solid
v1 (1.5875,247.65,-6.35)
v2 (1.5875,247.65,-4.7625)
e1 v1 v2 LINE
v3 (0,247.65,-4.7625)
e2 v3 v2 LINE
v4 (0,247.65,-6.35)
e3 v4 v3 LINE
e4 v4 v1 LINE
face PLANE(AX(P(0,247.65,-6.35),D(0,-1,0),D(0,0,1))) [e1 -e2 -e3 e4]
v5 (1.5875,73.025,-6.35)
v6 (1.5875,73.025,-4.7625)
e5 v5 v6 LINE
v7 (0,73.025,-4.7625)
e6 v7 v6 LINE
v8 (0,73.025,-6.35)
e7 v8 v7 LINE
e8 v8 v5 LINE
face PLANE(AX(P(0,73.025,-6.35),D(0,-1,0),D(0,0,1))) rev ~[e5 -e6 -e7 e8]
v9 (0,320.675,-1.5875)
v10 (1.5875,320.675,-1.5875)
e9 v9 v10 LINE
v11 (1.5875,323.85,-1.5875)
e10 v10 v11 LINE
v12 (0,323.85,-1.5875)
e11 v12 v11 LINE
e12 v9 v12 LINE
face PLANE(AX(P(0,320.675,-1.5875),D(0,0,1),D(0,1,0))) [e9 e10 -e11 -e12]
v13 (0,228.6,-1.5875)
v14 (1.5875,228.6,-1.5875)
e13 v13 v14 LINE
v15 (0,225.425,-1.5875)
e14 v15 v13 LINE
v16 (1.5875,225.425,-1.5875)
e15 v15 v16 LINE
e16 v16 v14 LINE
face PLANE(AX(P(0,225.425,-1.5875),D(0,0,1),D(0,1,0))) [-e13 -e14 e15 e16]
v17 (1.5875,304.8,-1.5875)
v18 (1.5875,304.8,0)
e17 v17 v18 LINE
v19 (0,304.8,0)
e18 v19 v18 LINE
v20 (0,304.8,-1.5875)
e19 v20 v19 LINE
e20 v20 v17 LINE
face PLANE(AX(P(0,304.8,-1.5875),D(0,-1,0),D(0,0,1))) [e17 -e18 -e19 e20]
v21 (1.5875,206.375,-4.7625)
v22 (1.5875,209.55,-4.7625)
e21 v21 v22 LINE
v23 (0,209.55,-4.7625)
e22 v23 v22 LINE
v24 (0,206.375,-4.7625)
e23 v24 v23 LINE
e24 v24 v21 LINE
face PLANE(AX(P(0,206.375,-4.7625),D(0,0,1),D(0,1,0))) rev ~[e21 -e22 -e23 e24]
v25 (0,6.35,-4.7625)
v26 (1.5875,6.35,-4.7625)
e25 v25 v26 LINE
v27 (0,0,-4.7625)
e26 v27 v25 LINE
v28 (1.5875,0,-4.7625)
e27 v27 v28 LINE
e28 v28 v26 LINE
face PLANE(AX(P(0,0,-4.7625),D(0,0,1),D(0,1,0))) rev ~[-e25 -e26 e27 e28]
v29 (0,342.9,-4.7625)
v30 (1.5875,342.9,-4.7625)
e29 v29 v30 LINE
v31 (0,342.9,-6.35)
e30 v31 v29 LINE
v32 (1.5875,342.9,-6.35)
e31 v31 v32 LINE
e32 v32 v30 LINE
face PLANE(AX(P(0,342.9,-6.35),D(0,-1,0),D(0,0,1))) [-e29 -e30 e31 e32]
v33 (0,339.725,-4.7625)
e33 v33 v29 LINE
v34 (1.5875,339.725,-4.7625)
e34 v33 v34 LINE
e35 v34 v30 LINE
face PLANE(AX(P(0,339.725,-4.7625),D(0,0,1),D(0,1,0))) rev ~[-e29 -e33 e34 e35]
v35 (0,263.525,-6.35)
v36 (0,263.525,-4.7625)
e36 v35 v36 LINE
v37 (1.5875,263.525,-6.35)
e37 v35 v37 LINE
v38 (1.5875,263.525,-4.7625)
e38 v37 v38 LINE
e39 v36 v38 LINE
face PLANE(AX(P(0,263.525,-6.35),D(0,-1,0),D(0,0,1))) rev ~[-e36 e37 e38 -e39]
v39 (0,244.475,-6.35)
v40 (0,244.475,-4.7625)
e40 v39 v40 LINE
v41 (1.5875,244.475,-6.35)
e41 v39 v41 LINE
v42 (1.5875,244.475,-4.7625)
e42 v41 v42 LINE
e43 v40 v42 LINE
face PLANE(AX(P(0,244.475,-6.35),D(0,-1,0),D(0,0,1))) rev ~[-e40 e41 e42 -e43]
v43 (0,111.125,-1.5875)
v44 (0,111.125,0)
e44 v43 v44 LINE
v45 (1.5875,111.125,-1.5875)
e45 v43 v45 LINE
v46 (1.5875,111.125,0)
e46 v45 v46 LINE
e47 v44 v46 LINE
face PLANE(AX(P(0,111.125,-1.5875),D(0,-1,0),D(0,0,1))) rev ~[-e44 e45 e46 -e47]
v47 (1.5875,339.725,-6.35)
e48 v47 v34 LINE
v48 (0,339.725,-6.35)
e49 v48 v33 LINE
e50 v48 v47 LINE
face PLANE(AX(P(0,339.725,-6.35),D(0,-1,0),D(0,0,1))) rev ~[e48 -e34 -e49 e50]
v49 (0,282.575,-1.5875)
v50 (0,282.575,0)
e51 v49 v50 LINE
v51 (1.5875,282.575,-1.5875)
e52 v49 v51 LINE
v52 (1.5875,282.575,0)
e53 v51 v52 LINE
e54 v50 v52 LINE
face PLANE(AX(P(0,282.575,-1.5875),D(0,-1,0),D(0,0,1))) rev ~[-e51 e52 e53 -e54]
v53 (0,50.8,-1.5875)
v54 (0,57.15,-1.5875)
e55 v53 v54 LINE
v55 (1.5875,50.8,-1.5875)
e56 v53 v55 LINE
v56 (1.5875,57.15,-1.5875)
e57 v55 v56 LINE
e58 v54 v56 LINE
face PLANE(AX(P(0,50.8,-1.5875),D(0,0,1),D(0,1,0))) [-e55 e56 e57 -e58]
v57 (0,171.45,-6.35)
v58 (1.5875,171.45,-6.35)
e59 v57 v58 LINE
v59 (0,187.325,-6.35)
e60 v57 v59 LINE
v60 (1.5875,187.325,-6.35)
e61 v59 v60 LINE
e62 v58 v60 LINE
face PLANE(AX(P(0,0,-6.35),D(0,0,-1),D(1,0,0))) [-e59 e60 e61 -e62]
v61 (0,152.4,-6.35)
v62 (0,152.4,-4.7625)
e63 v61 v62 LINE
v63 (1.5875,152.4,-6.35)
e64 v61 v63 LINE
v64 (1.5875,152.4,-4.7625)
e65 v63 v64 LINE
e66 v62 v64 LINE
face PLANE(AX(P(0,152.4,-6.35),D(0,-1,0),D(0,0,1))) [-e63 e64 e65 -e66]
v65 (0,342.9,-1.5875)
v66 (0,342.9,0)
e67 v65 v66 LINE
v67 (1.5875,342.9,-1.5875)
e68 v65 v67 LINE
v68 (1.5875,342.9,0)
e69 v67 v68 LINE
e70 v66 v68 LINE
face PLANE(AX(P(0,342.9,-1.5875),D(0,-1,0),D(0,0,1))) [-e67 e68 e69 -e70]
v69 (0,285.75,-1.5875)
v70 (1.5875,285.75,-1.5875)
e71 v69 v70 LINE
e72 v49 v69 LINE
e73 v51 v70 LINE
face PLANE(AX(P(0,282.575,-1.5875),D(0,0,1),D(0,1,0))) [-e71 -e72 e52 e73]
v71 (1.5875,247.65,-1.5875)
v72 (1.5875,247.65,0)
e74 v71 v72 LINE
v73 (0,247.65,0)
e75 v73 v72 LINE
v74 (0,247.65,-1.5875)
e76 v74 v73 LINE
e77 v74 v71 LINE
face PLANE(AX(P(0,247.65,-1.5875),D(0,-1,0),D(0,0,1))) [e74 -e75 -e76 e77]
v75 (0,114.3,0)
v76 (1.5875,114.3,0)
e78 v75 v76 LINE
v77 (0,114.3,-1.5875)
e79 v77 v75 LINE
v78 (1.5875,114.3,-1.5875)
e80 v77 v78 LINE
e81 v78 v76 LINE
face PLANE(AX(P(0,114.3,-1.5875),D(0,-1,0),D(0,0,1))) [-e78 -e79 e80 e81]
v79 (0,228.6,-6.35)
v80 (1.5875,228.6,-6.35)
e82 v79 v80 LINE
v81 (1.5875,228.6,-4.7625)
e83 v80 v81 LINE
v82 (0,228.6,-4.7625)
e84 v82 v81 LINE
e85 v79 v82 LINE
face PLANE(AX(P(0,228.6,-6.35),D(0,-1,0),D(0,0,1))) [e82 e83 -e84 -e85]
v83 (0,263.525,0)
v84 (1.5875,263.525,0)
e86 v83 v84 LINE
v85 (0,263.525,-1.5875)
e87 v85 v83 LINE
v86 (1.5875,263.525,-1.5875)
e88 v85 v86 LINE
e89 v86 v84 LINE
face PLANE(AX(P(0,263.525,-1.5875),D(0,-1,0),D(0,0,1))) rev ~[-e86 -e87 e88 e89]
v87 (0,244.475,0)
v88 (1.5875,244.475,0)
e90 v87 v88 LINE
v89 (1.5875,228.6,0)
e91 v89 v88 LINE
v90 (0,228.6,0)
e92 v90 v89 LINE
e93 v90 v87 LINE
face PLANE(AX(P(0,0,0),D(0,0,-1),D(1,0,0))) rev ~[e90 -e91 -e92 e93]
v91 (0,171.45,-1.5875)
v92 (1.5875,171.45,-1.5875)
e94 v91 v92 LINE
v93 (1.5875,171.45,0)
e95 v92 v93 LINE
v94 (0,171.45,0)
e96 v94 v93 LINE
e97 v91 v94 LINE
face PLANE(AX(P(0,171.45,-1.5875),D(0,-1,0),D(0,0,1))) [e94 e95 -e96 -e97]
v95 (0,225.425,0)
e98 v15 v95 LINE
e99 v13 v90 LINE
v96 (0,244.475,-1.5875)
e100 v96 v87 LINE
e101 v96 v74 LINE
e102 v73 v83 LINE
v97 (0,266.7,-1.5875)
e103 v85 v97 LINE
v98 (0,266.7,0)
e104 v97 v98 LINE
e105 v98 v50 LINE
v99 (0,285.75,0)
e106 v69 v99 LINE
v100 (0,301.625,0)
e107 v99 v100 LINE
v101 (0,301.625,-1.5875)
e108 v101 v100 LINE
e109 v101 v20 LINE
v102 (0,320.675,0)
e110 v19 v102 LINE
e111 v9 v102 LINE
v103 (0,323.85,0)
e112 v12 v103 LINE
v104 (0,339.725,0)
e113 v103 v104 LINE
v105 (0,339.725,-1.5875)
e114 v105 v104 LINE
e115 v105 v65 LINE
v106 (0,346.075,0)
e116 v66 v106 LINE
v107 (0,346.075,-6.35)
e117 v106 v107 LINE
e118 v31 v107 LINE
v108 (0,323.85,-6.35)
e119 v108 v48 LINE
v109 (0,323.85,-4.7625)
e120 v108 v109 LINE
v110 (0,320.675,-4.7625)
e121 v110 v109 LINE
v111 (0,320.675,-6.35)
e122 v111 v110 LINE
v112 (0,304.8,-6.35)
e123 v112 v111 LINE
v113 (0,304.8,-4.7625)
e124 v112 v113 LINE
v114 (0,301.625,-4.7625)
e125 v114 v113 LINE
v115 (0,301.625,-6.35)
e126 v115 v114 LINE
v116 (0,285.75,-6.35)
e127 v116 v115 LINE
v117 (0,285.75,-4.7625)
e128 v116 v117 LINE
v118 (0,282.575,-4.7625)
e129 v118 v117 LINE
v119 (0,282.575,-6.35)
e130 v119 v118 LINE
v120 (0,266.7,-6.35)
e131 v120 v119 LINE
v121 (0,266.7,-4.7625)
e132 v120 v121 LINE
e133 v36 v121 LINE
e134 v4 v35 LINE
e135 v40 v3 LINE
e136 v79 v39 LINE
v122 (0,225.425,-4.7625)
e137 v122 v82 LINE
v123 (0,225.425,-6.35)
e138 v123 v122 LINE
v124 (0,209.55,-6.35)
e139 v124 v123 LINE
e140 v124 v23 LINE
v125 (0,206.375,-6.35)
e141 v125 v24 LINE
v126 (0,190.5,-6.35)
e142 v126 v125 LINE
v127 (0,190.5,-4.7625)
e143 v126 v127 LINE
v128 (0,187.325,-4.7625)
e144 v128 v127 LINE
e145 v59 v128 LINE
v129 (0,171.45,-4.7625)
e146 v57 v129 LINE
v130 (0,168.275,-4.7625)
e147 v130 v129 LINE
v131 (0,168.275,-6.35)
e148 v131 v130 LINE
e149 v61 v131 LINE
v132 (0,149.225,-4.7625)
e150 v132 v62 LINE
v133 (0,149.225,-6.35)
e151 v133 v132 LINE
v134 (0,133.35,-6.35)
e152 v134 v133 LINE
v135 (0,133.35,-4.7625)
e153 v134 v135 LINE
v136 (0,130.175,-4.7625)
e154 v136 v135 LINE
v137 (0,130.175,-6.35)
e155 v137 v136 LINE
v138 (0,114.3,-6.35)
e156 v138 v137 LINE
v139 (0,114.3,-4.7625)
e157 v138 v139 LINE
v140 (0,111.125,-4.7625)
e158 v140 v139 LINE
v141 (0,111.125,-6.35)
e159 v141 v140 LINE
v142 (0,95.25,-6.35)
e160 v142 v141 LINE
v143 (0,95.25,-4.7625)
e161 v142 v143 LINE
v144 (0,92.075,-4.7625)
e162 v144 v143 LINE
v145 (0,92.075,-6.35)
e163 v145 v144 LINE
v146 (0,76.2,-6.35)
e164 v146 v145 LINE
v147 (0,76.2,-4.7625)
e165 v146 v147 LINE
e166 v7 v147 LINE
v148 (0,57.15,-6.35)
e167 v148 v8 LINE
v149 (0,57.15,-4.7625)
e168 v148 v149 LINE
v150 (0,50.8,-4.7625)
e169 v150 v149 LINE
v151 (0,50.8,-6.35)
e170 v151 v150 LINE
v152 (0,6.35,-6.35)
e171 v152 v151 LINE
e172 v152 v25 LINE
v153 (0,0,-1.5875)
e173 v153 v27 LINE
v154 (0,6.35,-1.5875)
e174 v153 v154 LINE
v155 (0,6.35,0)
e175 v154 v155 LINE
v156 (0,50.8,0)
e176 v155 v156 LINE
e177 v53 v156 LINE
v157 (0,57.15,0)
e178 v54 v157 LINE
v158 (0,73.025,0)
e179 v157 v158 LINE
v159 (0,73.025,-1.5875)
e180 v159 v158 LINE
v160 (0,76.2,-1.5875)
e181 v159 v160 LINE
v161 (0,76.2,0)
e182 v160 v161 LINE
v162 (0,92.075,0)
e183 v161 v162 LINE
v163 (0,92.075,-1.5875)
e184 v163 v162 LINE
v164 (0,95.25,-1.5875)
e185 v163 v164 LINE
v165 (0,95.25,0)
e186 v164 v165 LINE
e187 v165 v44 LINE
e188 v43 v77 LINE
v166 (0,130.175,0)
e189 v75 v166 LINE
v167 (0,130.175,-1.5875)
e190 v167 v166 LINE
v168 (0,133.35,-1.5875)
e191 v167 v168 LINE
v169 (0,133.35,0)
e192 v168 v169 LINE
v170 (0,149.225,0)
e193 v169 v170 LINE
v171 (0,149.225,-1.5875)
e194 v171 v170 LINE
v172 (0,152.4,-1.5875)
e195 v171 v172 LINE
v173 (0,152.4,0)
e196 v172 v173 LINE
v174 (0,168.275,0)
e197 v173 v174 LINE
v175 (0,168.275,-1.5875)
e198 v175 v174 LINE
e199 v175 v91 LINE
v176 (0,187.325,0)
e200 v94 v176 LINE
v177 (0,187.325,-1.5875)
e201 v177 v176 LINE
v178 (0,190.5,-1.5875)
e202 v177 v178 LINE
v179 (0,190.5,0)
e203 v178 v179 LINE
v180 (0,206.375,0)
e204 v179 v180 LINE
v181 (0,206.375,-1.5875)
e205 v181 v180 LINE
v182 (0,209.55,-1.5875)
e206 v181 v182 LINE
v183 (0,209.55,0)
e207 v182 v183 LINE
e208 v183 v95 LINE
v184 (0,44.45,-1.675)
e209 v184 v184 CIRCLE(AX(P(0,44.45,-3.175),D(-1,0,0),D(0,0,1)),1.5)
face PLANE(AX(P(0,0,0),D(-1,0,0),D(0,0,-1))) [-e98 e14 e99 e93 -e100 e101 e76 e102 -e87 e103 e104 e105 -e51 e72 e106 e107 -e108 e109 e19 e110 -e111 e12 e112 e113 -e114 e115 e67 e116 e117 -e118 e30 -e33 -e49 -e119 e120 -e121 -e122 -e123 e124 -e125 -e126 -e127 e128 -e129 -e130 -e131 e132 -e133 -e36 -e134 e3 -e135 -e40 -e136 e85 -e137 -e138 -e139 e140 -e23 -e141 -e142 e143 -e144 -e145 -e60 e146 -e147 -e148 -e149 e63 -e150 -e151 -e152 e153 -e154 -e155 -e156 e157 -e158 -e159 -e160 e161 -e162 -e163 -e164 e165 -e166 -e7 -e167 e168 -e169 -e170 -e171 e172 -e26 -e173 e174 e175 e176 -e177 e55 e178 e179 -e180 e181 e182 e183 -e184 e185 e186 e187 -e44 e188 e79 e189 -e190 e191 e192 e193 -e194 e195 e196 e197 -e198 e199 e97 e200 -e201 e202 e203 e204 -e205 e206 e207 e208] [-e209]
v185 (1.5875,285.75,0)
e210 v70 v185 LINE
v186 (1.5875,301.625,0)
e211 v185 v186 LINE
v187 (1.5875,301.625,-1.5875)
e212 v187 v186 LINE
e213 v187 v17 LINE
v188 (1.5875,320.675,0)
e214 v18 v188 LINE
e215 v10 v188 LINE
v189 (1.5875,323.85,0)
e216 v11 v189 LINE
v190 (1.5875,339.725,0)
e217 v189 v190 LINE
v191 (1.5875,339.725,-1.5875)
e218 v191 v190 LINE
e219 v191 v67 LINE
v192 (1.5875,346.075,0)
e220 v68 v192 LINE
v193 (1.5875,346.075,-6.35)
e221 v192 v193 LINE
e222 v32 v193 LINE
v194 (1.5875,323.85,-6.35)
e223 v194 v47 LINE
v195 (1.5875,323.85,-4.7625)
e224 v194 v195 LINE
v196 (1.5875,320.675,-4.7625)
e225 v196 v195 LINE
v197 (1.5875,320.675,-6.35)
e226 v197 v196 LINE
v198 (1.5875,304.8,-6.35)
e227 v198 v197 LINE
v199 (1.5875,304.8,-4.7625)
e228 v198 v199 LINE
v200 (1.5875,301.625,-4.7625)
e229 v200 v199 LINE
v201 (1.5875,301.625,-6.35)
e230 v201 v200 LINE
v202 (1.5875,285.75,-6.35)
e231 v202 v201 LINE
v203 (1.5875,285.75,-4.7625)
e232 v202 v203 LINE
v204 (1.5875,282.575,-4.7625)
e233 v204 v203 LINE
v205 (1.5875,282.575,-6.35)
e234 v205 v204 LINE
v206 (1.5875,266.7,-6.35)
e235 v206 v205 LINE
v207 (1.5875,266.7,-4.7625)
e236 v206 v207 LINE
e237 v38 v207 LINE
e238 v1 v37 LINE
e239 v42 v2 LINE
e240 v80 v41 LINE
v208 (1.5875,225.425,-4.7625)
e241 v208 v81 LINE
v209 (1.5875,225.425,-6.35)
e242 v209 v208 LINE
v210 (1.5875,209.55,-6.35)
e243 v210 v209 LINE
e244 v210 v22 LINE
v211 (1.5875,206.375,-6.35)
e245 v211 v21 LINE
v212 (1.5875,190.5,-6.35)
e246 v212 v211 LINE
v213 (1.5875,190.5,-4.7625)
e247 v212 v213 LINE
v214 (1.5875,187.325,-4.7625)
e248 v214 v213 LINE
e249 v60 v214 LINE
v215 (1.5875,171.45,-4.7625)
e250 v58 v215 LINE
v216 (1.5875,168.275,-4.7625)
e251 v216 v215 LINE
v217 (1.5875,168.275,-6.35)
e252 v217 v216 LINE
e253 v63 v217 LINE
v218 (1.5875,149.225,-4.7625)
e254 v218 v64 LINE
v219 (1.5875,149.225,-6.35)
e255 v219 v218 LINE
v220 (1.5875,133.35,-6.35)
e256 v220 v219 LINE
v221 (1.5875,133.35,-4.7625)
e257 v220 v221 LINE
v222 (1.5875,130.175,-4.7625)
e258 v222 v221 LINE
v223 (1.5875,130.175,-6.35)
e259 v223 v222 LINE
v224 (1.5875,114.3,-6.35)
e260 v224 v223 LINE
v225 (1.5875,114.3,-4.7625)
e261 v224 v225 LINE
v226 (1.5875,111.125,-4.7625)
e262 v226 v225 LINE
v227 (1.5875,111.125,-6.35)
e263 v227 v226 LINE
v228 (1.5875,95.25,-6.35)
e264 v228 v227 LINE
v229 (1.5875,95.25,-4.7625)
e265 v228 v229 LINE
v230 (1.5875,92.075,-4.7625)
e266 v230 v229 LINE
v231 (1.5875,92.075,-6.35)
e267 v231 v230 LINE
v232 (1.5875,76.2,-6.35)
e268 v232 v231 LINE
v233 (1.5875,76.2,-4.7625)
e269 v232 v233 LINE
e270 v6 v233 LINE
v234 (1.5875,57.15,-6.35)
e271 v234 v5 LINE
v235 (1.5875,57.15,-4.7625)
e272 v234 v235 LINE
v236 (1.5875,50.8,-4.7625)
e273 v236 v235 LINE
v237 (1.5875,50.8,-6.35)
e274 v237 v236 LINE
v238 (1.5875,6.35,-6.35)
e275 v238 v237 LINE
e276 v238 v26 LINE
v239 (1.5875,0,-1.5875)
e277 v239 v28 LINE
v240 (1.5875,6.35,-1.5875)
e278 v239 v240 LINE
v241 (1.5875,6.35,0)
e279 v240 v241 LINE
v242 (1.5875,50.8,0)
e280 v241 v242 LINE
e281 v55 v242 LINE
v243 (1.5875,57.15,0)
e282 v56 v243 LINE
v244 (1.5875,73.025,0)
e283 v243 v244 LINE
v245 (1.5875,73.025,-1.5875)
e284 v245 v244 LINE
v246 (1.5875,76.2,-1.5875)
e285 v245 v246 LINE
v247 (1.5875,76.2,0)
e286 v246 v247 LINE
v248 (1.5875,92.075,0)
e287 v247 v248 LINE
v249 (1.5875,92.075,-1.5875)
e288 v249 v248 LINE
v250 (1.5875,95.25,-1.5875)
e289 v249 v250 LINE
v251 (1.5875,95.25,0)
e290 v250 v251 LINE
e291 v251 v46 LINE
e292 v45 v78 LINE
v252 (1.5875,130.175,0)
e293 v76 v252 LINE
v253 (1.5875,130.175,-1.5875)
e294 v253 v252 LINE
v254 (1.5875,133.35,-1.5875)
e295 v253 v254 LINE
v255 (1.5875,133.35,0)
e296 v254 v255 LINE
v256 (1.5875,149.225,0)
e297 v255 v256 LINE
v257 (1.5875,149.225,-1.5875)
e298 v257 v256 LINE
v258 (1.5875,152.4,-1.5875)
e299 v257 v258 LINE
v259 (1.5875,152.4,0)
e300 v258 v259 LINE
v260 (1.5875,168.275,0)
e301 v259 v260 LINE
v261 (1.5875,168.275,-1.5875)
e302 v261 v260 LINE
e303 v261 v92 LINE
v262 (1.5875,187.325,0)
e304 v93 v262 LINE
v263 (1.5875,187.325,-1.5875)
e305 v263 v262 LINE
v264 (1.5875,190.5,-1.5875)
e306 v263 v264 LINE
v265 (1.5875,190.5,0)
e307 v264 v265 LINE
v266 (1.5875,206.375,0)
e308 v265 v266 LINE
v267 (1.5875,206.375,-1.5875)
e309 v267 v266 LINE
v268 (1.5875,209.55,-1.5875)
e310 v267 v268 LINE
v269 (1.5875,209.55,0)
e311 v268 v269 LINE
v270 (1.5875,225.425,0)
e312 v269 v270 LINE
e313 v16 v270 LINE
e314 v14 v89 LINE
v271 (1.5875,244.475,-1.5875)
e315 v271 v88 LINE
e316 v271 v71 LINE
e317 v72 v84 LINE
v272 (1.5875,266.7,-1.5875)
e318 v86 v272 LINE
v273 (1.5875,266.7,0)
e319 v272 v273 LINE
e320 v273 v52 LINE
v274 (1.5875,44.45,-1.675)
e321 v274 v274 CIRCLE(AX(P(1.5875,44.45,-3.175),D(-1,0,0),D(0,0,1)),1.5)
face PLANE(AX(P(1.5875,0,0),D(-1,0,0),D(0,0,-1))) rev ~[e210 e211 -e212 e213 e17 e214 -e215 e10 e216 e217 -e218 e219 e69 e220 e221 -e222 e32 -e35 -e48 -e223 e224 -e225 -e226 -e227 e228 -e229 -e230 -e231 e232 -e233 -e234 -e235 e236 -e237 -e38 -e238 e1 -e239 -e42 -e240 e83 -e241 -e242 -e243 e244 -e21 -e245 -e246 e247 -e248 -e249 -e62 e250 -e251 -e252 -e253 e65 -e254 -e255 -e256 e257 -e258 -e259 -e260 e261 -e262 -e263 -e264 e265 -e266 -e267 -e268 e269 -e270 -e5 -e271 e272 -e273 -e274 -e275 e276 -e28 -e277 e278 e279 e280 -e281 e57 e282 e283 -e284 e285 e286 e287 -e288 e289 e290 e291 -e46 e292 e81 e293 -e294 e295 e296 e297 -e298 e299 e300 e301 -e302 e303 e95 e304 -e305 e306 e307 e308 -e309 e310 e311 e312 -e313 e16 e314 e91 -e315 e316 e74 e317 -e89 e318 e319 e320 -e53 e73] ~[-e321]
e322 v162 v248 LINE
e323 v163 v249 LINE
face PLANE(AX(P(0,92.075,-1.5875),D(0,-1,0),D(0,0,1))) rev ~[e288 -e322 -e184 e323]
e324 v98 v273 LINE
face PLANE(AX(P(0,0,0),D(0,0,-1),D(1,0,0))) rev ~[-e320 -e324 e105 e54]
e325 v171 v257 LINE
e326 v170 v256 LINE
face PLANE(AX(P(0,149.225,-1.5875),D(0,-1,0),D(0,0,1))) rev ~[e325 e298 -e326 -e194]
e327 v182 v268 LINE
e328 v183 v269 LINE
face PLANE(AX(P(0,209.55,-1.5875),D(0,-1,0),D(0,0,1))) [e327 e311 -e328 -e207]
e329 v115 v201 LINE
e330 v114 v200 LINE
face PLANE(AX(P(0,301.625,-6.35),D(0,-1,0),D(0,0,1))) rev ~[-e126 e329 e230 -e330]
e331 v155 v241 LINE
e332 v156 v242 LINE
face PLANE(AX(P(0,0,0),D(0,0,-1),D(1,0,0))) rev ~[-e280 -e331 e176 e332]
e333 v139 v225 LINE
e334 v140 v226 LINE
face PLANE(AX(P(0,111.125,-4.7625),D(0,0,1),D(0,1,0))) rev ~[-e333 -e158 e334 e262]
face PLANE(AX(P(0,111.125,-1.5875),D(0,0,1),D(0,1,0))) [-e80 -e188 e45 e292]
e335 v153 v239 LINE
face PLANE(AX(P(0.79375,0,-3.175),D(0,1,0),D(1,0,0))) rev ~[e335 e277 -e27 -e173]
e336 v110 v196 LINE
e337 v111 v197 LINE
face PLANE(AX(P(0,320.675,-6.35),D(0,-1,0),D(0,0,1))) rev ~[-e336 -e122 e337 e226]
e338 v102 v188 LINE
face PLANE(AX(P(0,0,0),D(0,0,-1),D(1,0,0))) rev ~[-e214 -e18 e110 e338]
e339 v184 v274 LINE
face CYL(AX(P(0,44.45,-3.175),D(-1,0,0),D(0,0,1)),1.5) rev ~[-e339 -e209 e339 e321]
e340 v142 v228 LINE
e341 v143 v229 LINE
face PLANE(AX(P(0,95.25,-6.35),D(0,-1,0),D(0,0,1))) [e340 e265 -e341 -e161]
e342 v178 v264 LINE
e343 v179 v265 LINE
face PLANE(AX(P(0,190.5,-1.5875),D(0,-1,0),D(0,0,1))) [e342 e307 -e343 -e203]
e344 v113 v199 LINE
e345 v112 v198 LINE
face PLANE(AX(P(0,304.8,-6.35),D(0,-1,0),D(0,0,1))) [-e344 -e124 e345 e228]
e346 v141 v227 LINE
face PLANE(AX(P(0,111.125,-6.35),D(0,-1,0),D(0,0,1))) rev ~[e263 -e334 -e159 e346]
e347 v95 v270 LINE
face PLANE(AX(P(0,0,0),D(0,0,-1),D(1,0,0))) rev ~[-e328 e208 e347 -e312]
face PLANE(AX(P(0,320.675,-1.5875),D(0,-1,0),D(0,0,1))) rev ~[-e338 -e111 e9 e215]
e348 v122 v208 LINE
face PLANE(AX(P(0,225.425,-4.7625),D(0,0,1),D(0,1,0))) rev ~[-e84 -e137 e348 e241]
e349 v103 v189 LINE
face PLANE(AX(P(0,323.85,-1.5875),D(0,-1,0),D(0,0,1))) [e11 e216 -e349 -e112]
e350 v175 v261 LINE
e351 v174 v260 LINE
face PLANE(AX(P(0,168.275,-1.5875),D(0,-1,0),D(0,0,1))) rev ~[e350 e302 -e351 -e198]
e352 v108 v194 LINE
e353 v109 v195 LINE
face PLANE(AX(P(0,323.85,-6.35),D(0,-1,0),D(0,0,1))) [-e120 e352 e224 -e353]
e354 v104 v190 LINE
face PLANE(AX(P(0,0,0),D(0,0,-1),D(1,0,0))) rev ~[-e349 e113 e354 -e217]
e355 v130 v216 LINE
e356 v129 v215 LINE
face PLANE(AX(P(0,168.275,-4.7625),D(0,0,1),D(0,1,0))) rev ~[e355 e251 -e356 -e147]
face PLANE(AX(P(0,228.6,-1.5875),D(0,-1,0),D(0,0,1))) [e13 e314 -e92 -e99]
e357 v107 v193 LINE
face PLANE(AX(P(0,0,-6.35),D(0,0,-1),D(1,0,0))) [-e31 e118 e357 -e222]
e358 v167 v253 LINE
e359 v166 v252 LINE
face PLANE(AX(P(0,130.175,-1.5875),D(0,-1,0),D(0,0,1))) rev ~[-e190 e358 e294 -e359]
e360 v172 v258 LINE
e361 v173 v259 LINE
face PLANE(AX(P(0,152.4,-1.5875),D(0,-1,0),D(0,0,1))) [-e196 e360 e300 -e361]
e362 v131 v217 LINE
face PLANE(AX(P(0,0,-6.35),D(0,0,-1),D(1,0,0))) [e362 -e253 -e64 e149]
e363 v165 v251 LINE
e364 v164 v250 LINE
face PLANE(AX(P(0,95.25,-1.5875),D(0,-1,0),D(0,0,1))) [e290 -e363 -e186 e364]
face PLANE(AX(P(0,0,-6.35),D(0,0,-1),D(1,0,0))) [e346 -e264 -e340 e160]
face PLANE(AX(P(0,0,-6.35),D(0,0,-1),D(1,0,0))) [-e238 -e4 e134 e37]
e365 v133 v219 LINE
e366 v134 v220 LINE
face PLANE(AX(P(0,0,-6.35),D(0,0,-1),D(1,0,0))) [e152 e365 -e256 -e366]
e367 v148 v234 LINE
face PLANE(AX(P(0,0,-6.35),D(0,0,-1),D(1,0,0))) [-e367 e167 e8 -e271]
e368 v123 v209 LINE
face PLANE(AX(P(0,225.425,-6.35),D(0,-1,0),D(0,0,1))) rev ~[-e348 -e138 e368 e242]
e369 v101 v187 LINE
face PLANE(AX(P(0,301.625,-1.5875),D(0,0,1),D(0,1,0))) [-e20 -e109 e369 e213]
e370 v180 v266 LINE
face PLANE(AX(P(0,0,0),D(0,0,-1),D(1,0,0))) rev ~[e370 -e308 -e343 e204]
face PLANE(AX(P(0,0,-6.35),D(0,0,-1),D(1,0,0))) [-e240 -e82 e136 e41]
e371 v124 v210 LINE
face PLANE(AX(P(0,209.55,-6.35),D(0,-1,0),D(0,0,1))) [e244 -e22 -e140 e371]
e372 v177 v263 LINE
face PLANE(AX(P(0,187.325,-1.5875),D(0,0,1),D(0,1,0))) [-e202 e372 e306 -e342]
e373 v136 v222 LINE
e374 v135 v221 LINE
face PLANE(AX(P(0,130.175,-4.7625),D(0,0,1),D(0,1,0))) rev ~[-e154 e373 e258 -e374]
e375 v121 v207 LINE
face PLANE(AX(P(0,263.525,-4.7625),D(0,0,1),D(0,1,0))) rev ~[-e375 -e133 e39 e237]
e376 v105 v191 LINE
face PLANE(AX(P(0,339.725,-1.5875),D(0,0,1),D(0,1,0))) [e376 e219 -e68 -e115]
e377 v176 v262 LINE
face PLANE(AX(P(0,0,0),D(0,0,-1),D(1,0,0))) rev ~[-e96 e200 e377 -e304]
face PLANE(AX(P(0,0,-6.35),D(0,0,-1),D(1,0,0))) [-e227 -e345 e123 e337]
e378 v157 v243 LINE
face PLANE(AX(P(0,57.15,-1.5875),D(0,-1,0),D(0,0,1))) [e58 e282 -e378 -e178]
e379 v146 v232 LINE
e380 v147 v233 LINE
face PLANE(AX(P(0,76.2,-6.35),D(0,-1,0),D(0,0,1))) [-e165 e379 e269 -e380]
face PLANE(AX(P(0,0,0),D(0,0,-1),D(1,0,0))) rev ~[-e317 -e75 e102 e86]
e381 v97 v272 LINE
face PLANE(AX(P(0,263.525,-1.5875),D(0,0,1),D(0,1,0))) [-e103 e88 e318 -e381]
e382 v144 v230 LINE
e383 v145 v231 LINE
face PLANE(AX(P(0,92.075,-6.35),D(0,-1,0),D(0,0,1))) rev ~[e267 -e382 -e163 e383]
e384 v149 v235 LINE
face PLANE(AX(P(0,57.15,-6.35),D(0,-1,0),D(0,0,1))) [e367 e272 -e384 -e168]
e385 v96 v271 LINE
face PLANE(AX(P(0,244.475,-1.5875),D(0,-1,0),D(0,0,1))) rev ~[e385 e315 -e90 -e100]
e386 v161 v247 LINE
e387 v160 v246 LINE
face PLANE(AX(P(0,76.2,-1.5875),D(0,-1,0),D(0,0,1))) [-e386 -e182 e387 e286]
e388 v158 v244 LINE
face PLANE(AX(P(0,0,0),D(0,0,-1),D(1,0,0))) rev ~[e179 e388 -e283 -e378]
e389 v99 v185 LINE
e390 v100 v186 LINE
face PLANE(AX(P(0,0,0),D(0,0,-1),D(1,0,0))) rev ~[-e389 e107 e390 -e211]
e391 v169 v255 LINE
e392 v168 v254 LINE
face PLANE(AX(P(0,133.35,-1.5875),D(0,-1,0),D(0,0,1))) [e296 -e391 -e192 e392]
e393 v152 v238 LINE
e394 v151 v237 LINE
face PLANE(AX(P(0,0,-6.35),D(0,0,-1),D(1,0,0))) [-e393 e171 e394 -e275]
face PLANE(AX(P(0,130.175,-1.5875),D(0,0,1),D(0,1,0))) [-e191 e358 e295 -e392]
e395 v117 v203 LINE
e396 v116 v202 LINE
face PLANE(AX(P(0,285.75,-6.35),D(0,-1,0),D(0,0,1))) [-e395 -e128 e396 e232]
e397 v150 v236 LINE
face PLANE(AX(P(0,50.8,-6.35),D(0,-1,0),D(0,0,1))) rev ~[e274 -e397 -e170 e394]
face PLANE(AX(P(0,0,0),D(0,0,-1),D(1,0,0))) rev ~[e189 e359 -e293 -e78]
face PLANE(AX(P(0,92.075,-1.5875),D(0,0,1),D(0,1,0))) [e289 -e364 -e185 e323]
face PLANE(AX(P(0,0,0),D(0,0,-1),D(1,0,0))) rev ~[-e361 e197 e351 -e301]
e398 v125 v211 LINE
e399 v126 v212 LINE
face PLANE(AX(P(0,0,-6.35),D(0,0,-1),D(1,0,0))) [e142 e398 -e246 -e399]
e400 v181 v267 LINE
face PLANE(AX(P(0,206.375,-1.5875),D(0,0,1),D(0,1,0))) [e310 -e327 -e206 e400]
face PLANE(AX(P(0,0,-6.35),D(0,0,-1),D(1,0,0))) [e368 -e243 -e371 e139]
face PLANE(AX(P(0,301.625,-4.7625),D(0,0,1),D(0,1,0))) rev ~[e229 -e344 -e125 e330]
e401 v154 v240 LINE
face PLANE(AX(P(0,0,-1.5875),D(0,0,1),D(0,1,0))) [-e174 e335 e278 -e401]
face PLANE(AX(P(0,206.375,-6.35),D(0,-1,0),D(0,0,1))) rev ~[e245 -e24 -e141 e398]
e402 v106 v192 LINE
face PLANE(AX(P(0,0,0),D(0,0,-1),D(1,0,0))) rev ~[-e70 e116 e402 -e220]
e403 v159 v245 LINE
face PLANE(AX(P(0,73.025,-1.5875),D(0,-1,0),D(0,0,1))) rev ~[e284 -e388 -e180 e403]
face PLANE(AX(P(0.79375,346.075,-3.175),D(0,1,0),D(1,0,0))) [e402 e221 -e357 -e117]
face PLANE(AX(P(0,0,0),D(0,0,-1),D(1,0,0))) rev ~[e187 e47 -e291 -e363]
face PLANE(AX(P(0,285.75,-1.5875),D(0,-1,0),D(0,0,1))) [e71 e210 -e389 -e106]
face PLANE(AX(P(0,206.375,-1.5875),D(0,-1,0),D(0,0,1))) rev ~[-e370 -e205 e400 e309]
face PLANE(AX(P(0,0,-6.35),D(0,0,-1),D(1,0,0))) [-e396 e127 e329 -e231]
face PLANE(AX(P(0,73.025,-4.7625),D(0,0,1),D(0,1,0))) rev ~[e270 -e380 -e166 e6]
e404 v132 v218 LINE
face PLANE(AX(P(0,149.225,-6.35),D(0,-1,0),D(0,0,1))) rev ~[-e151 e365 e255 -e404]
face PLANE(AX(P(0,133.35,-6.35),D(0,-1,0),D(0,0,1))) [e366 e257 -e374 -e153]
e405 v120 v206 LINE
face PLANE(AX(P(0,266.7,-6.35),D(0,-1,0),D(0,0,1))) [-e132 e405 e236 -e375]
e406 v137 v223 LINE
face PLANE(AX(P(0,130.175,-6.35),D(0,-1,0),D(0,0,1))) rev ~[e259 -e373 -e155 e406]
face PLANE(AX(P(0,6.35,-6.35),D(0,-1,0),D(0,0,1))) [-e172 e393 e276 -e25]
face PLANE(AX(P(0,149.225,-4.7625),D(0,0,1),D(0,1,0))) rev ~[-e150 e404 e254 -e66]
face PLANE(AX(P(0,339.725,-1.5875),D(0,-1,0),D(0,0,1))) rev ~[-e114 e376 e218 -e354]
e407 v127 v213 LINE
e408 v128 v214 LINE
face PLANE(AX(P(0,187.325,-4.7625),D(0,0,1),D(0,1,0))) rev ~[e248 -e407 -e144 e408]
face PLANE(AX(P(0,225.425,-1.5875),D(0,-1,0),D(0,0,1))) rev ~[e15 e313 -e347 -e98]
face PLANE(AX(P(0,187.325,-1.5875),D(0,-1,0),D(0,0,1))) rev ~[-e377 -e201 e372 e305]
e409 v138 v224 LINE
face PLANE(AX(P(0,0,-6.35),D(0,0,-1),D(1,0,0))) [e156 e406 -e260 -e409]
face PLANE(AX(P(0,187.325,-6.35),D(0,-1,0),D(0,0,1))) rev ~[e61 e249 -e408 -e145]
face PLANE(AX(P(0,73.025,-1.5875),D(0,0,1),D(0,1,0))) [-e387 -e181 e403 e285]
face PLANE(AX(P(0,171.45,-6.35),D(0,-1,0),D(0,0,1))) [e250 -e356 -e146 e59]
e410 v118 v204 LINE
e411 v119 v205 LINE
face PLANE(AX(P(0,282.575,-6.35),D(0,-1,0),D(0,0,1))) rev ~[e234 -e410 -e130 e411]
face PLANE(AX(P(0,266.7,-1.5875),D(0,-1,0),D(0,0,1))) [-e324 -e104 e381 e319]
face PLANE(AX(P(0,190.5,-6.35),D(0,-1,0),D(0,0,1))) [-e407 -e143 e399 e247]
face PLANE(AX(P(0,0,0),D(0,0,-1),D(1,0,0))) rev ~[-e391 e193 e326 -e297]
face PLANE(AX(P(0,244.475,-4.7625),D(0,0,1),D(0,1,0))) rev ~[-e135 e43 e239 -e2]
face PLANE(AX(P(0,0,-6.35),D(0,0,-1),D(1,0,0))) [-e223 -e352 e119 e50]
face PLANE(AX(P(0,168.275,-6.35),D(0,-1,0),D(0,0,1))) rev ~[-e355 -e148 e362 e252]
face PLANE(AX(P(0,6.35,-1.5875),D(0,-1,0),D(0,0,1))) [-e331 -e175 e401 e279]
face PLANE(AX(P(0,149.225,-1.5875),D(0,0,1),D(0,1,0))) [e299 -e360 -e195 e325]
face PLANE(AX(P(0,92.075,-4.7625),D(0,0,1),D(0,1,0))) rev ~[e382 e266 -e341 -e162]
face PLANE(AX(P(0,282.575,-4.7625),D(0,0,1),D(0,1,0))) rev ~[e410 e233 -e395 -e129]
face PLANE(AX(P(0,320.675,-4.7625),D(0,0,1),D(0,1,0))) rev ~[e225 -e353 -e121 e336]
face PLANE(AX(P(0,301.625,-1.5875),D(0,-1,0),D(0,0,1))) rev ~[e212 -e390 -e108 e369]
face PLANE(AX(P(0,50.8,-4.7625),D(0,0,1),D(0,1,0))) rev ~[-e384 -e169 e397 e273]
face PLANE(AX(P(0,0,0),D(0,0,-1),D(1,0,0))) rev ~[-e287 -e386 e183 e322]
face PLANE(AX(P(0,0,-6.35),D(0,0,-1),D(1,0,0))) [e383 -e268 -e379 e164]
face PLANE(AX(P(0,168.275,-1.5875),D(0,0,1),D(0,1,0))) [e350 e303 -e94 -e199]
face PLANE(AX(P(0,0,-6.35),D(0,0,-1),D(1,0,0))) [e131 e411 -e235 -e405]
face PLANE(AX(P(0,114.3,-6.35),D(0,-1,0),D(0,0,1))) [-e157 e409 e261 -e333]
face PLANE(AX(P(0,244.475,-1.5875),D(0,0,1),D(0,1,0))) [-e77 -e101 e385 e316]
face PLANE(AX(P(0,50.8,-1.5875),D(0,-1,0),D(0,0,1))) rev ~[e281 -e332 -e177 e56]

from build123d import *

# Parameters (mm, degrees)
SKETCH1_W           = 1.5875
SKETCH1_H           = 6.35
BOSS_EXTRUDE1_DEPTH = 346.075
SKETCH2_W           = 1.5875
SKETCH2_H           = 6.35
SKETCH2_H_2         = 3.175
CUT_EXTRUDE1_DEPTH  = 347.136892401
SKETCH3_R           = 1.5
CUT_EXTRUDE2_DEPTH  = 10


with BuildPart() as part:
    # Sketch1 → Boss-Extrude1 (new body)
    with BuildSketch(Plane(origin=(0, 0, 0), x_dir=(1, 0, 0), z_dir=(0, 1, 0))):
        with Locations((0.79375, 3.175)):
            Rectangle(SKETCH1_W, SKETCH1_H)
    extrude(amount=BOSS_EXTRUDE1_DEPTH)

    # Sketch2 → Cut-Extrude1 (cut, through all)
    with BuildSketch(Plane.ZY):
        with Locations((-5.55625, 53.975)):
            Rectangle(SKETCH2_W, SKETCH2_H)
        with Locations((-5.55625, 74.6125)):
            Rectangle(SKETCH2_W, SKETCH2_H_2)
        with Locations((-0.79375, 341.3125)):
            Rectangle(SKETCH2_W, SKETCH2_H_2)
        with Locations((-5.55625, 93.6625)):
            Rectangle(SKETCH2_W, SKETCH2_H_2)
        with Locations((-0.79375, 322.2625)):
            Rectangle(SKETCH2_W, SKETCH2_H_2)
        with Locations((-5.55625, 112.7125)):
            Rectangle(SKETCH2_W, SKETCH2_H_2)
        with Locations((-0.79375, 303.2125)):
            Rectangle(SKETCH2_W, SKETCH2_H_2)
        with Locations((-5.55625, 131.7625)):
            Rectangle(SKETCH2_W, SKETCH2_H_2)
        with Locations((-0.79375, 284.1625)):
            Rectangle(SKETCH2_W, SKETCH2_H_2)
        with Locations((-0.79375, 265.1125)):
            Rectangle(SKETCH2_W, SKETCH2_H_2)
        with Locations((-5.55625, 150.8125)):
            Rectangle(SKETCH2_W, SKETCH2_H_2)
        with Locations((-0.79375, 246.0625)):
            Rectangle(SKETCH2_W, SKETCH2_H_2)
        with Locations((-5.55625, 169.8625)):
            Rectangle(SKETCH2_W, SKETCH2_H_2)
        with Locations((-0.79375, 227.0125)):
            Rectangle(SKETCH2_W, SKETCH2_H_2)
        with Locations((-5.55625, 188.9125)):
            Rectangle(SKETCH2_W, SKETCH2_H_2)
        with Locations((-0.79375, 3.175)):
            Rectangle(SKETCH2_W, SKETCH2_H)
        with Locations((-5.55625, 207.9625)):
            Rectangle(SKETCH2_W, SKETCH2_H_2)
        with Locations((-5.55625, 3.175)):
            Rectangle(SKETCH2_W, SKETCH2_H)
        with Locations((-0.79375, 207.9625)):
            Rectangle(SKETCH2_W, SKETCH2_H_2)
        with Locations((-0.79375, 188.9125)):
            Rectangle(SKETCH2_W, SKETCH2_H_2)
        with Locations((-0.79375, 169.8625)):
            Rectangle(SKETCH2_W, SKETCH2_H_2)
        with Locations((-5.55625, 227.0125)):
            Rectangle(SKETCH2_W, SKETCH2_H_2)
        with Locations((-0.79375, 150.8125)):
            Rectangle(SKETCH2_W, SKETCH2_H_2)
        with Locations((-5.55625, 246.0625)):
            Rectangle(SKETCH2_W, SKETCH2_H_2)
        with Locations((-0.79375, 131.7625)):
            Rectangle(SKETCH2_W, SKETCH2_H_2)
        with Locations((-5.55625, 265.1125)):
            Rectangle(SKETCH2_W, SKETCH2_H_2)
        with Locations((-0.79375, 112.7125)):
            Rectangle(SKETCH2_W, SKETCH2_H_2)
        with Locations((-5.55625, 284.1625)):
            Rectangle(SKETCH2_W, SKETCH2_H_2)
        with Locations((-0.79375, 93.6625)):
            Rectangle(SKETCH2_W, SKETCH2_H_2)
        with Locations((-0.79375, 74.6125)):
            Rectangle(SKETCH2_W, SKETCH2_H_2)
        with Locations((-5.55625, 303.2125)):
            Rectangle(SKETCH2_W, SKETCH2_H_2)
        with Locations((-0.79375, 53.975)):
            Rectangle(SKETCH2_W, SKETCH2_H)
        with Locations((-5.55625, 322.2625)):
            Rectangle(SKETCH2_W, SKETCH2_H_2)
        with Locations((-5.55625, 341.3125)):
            Rectangle(SKETCH2_W, SKETCH2_H_2)
    extrude(amount=-CUT_EXTRUDE1_DEPTH, mode=Mode.SUBTRACT)

    # Sketch3 → Cut-Extrude2 (cut)
    with BuildSketch(Plane.ZY):
        with Locations((-3.175, 44.45)):
            Circle(SKETCH3_R)
    extrude(amount=-CUT_EXTRUDE2_DEPTH, mode=Mode.SUBTRACT)


solid = part.part
